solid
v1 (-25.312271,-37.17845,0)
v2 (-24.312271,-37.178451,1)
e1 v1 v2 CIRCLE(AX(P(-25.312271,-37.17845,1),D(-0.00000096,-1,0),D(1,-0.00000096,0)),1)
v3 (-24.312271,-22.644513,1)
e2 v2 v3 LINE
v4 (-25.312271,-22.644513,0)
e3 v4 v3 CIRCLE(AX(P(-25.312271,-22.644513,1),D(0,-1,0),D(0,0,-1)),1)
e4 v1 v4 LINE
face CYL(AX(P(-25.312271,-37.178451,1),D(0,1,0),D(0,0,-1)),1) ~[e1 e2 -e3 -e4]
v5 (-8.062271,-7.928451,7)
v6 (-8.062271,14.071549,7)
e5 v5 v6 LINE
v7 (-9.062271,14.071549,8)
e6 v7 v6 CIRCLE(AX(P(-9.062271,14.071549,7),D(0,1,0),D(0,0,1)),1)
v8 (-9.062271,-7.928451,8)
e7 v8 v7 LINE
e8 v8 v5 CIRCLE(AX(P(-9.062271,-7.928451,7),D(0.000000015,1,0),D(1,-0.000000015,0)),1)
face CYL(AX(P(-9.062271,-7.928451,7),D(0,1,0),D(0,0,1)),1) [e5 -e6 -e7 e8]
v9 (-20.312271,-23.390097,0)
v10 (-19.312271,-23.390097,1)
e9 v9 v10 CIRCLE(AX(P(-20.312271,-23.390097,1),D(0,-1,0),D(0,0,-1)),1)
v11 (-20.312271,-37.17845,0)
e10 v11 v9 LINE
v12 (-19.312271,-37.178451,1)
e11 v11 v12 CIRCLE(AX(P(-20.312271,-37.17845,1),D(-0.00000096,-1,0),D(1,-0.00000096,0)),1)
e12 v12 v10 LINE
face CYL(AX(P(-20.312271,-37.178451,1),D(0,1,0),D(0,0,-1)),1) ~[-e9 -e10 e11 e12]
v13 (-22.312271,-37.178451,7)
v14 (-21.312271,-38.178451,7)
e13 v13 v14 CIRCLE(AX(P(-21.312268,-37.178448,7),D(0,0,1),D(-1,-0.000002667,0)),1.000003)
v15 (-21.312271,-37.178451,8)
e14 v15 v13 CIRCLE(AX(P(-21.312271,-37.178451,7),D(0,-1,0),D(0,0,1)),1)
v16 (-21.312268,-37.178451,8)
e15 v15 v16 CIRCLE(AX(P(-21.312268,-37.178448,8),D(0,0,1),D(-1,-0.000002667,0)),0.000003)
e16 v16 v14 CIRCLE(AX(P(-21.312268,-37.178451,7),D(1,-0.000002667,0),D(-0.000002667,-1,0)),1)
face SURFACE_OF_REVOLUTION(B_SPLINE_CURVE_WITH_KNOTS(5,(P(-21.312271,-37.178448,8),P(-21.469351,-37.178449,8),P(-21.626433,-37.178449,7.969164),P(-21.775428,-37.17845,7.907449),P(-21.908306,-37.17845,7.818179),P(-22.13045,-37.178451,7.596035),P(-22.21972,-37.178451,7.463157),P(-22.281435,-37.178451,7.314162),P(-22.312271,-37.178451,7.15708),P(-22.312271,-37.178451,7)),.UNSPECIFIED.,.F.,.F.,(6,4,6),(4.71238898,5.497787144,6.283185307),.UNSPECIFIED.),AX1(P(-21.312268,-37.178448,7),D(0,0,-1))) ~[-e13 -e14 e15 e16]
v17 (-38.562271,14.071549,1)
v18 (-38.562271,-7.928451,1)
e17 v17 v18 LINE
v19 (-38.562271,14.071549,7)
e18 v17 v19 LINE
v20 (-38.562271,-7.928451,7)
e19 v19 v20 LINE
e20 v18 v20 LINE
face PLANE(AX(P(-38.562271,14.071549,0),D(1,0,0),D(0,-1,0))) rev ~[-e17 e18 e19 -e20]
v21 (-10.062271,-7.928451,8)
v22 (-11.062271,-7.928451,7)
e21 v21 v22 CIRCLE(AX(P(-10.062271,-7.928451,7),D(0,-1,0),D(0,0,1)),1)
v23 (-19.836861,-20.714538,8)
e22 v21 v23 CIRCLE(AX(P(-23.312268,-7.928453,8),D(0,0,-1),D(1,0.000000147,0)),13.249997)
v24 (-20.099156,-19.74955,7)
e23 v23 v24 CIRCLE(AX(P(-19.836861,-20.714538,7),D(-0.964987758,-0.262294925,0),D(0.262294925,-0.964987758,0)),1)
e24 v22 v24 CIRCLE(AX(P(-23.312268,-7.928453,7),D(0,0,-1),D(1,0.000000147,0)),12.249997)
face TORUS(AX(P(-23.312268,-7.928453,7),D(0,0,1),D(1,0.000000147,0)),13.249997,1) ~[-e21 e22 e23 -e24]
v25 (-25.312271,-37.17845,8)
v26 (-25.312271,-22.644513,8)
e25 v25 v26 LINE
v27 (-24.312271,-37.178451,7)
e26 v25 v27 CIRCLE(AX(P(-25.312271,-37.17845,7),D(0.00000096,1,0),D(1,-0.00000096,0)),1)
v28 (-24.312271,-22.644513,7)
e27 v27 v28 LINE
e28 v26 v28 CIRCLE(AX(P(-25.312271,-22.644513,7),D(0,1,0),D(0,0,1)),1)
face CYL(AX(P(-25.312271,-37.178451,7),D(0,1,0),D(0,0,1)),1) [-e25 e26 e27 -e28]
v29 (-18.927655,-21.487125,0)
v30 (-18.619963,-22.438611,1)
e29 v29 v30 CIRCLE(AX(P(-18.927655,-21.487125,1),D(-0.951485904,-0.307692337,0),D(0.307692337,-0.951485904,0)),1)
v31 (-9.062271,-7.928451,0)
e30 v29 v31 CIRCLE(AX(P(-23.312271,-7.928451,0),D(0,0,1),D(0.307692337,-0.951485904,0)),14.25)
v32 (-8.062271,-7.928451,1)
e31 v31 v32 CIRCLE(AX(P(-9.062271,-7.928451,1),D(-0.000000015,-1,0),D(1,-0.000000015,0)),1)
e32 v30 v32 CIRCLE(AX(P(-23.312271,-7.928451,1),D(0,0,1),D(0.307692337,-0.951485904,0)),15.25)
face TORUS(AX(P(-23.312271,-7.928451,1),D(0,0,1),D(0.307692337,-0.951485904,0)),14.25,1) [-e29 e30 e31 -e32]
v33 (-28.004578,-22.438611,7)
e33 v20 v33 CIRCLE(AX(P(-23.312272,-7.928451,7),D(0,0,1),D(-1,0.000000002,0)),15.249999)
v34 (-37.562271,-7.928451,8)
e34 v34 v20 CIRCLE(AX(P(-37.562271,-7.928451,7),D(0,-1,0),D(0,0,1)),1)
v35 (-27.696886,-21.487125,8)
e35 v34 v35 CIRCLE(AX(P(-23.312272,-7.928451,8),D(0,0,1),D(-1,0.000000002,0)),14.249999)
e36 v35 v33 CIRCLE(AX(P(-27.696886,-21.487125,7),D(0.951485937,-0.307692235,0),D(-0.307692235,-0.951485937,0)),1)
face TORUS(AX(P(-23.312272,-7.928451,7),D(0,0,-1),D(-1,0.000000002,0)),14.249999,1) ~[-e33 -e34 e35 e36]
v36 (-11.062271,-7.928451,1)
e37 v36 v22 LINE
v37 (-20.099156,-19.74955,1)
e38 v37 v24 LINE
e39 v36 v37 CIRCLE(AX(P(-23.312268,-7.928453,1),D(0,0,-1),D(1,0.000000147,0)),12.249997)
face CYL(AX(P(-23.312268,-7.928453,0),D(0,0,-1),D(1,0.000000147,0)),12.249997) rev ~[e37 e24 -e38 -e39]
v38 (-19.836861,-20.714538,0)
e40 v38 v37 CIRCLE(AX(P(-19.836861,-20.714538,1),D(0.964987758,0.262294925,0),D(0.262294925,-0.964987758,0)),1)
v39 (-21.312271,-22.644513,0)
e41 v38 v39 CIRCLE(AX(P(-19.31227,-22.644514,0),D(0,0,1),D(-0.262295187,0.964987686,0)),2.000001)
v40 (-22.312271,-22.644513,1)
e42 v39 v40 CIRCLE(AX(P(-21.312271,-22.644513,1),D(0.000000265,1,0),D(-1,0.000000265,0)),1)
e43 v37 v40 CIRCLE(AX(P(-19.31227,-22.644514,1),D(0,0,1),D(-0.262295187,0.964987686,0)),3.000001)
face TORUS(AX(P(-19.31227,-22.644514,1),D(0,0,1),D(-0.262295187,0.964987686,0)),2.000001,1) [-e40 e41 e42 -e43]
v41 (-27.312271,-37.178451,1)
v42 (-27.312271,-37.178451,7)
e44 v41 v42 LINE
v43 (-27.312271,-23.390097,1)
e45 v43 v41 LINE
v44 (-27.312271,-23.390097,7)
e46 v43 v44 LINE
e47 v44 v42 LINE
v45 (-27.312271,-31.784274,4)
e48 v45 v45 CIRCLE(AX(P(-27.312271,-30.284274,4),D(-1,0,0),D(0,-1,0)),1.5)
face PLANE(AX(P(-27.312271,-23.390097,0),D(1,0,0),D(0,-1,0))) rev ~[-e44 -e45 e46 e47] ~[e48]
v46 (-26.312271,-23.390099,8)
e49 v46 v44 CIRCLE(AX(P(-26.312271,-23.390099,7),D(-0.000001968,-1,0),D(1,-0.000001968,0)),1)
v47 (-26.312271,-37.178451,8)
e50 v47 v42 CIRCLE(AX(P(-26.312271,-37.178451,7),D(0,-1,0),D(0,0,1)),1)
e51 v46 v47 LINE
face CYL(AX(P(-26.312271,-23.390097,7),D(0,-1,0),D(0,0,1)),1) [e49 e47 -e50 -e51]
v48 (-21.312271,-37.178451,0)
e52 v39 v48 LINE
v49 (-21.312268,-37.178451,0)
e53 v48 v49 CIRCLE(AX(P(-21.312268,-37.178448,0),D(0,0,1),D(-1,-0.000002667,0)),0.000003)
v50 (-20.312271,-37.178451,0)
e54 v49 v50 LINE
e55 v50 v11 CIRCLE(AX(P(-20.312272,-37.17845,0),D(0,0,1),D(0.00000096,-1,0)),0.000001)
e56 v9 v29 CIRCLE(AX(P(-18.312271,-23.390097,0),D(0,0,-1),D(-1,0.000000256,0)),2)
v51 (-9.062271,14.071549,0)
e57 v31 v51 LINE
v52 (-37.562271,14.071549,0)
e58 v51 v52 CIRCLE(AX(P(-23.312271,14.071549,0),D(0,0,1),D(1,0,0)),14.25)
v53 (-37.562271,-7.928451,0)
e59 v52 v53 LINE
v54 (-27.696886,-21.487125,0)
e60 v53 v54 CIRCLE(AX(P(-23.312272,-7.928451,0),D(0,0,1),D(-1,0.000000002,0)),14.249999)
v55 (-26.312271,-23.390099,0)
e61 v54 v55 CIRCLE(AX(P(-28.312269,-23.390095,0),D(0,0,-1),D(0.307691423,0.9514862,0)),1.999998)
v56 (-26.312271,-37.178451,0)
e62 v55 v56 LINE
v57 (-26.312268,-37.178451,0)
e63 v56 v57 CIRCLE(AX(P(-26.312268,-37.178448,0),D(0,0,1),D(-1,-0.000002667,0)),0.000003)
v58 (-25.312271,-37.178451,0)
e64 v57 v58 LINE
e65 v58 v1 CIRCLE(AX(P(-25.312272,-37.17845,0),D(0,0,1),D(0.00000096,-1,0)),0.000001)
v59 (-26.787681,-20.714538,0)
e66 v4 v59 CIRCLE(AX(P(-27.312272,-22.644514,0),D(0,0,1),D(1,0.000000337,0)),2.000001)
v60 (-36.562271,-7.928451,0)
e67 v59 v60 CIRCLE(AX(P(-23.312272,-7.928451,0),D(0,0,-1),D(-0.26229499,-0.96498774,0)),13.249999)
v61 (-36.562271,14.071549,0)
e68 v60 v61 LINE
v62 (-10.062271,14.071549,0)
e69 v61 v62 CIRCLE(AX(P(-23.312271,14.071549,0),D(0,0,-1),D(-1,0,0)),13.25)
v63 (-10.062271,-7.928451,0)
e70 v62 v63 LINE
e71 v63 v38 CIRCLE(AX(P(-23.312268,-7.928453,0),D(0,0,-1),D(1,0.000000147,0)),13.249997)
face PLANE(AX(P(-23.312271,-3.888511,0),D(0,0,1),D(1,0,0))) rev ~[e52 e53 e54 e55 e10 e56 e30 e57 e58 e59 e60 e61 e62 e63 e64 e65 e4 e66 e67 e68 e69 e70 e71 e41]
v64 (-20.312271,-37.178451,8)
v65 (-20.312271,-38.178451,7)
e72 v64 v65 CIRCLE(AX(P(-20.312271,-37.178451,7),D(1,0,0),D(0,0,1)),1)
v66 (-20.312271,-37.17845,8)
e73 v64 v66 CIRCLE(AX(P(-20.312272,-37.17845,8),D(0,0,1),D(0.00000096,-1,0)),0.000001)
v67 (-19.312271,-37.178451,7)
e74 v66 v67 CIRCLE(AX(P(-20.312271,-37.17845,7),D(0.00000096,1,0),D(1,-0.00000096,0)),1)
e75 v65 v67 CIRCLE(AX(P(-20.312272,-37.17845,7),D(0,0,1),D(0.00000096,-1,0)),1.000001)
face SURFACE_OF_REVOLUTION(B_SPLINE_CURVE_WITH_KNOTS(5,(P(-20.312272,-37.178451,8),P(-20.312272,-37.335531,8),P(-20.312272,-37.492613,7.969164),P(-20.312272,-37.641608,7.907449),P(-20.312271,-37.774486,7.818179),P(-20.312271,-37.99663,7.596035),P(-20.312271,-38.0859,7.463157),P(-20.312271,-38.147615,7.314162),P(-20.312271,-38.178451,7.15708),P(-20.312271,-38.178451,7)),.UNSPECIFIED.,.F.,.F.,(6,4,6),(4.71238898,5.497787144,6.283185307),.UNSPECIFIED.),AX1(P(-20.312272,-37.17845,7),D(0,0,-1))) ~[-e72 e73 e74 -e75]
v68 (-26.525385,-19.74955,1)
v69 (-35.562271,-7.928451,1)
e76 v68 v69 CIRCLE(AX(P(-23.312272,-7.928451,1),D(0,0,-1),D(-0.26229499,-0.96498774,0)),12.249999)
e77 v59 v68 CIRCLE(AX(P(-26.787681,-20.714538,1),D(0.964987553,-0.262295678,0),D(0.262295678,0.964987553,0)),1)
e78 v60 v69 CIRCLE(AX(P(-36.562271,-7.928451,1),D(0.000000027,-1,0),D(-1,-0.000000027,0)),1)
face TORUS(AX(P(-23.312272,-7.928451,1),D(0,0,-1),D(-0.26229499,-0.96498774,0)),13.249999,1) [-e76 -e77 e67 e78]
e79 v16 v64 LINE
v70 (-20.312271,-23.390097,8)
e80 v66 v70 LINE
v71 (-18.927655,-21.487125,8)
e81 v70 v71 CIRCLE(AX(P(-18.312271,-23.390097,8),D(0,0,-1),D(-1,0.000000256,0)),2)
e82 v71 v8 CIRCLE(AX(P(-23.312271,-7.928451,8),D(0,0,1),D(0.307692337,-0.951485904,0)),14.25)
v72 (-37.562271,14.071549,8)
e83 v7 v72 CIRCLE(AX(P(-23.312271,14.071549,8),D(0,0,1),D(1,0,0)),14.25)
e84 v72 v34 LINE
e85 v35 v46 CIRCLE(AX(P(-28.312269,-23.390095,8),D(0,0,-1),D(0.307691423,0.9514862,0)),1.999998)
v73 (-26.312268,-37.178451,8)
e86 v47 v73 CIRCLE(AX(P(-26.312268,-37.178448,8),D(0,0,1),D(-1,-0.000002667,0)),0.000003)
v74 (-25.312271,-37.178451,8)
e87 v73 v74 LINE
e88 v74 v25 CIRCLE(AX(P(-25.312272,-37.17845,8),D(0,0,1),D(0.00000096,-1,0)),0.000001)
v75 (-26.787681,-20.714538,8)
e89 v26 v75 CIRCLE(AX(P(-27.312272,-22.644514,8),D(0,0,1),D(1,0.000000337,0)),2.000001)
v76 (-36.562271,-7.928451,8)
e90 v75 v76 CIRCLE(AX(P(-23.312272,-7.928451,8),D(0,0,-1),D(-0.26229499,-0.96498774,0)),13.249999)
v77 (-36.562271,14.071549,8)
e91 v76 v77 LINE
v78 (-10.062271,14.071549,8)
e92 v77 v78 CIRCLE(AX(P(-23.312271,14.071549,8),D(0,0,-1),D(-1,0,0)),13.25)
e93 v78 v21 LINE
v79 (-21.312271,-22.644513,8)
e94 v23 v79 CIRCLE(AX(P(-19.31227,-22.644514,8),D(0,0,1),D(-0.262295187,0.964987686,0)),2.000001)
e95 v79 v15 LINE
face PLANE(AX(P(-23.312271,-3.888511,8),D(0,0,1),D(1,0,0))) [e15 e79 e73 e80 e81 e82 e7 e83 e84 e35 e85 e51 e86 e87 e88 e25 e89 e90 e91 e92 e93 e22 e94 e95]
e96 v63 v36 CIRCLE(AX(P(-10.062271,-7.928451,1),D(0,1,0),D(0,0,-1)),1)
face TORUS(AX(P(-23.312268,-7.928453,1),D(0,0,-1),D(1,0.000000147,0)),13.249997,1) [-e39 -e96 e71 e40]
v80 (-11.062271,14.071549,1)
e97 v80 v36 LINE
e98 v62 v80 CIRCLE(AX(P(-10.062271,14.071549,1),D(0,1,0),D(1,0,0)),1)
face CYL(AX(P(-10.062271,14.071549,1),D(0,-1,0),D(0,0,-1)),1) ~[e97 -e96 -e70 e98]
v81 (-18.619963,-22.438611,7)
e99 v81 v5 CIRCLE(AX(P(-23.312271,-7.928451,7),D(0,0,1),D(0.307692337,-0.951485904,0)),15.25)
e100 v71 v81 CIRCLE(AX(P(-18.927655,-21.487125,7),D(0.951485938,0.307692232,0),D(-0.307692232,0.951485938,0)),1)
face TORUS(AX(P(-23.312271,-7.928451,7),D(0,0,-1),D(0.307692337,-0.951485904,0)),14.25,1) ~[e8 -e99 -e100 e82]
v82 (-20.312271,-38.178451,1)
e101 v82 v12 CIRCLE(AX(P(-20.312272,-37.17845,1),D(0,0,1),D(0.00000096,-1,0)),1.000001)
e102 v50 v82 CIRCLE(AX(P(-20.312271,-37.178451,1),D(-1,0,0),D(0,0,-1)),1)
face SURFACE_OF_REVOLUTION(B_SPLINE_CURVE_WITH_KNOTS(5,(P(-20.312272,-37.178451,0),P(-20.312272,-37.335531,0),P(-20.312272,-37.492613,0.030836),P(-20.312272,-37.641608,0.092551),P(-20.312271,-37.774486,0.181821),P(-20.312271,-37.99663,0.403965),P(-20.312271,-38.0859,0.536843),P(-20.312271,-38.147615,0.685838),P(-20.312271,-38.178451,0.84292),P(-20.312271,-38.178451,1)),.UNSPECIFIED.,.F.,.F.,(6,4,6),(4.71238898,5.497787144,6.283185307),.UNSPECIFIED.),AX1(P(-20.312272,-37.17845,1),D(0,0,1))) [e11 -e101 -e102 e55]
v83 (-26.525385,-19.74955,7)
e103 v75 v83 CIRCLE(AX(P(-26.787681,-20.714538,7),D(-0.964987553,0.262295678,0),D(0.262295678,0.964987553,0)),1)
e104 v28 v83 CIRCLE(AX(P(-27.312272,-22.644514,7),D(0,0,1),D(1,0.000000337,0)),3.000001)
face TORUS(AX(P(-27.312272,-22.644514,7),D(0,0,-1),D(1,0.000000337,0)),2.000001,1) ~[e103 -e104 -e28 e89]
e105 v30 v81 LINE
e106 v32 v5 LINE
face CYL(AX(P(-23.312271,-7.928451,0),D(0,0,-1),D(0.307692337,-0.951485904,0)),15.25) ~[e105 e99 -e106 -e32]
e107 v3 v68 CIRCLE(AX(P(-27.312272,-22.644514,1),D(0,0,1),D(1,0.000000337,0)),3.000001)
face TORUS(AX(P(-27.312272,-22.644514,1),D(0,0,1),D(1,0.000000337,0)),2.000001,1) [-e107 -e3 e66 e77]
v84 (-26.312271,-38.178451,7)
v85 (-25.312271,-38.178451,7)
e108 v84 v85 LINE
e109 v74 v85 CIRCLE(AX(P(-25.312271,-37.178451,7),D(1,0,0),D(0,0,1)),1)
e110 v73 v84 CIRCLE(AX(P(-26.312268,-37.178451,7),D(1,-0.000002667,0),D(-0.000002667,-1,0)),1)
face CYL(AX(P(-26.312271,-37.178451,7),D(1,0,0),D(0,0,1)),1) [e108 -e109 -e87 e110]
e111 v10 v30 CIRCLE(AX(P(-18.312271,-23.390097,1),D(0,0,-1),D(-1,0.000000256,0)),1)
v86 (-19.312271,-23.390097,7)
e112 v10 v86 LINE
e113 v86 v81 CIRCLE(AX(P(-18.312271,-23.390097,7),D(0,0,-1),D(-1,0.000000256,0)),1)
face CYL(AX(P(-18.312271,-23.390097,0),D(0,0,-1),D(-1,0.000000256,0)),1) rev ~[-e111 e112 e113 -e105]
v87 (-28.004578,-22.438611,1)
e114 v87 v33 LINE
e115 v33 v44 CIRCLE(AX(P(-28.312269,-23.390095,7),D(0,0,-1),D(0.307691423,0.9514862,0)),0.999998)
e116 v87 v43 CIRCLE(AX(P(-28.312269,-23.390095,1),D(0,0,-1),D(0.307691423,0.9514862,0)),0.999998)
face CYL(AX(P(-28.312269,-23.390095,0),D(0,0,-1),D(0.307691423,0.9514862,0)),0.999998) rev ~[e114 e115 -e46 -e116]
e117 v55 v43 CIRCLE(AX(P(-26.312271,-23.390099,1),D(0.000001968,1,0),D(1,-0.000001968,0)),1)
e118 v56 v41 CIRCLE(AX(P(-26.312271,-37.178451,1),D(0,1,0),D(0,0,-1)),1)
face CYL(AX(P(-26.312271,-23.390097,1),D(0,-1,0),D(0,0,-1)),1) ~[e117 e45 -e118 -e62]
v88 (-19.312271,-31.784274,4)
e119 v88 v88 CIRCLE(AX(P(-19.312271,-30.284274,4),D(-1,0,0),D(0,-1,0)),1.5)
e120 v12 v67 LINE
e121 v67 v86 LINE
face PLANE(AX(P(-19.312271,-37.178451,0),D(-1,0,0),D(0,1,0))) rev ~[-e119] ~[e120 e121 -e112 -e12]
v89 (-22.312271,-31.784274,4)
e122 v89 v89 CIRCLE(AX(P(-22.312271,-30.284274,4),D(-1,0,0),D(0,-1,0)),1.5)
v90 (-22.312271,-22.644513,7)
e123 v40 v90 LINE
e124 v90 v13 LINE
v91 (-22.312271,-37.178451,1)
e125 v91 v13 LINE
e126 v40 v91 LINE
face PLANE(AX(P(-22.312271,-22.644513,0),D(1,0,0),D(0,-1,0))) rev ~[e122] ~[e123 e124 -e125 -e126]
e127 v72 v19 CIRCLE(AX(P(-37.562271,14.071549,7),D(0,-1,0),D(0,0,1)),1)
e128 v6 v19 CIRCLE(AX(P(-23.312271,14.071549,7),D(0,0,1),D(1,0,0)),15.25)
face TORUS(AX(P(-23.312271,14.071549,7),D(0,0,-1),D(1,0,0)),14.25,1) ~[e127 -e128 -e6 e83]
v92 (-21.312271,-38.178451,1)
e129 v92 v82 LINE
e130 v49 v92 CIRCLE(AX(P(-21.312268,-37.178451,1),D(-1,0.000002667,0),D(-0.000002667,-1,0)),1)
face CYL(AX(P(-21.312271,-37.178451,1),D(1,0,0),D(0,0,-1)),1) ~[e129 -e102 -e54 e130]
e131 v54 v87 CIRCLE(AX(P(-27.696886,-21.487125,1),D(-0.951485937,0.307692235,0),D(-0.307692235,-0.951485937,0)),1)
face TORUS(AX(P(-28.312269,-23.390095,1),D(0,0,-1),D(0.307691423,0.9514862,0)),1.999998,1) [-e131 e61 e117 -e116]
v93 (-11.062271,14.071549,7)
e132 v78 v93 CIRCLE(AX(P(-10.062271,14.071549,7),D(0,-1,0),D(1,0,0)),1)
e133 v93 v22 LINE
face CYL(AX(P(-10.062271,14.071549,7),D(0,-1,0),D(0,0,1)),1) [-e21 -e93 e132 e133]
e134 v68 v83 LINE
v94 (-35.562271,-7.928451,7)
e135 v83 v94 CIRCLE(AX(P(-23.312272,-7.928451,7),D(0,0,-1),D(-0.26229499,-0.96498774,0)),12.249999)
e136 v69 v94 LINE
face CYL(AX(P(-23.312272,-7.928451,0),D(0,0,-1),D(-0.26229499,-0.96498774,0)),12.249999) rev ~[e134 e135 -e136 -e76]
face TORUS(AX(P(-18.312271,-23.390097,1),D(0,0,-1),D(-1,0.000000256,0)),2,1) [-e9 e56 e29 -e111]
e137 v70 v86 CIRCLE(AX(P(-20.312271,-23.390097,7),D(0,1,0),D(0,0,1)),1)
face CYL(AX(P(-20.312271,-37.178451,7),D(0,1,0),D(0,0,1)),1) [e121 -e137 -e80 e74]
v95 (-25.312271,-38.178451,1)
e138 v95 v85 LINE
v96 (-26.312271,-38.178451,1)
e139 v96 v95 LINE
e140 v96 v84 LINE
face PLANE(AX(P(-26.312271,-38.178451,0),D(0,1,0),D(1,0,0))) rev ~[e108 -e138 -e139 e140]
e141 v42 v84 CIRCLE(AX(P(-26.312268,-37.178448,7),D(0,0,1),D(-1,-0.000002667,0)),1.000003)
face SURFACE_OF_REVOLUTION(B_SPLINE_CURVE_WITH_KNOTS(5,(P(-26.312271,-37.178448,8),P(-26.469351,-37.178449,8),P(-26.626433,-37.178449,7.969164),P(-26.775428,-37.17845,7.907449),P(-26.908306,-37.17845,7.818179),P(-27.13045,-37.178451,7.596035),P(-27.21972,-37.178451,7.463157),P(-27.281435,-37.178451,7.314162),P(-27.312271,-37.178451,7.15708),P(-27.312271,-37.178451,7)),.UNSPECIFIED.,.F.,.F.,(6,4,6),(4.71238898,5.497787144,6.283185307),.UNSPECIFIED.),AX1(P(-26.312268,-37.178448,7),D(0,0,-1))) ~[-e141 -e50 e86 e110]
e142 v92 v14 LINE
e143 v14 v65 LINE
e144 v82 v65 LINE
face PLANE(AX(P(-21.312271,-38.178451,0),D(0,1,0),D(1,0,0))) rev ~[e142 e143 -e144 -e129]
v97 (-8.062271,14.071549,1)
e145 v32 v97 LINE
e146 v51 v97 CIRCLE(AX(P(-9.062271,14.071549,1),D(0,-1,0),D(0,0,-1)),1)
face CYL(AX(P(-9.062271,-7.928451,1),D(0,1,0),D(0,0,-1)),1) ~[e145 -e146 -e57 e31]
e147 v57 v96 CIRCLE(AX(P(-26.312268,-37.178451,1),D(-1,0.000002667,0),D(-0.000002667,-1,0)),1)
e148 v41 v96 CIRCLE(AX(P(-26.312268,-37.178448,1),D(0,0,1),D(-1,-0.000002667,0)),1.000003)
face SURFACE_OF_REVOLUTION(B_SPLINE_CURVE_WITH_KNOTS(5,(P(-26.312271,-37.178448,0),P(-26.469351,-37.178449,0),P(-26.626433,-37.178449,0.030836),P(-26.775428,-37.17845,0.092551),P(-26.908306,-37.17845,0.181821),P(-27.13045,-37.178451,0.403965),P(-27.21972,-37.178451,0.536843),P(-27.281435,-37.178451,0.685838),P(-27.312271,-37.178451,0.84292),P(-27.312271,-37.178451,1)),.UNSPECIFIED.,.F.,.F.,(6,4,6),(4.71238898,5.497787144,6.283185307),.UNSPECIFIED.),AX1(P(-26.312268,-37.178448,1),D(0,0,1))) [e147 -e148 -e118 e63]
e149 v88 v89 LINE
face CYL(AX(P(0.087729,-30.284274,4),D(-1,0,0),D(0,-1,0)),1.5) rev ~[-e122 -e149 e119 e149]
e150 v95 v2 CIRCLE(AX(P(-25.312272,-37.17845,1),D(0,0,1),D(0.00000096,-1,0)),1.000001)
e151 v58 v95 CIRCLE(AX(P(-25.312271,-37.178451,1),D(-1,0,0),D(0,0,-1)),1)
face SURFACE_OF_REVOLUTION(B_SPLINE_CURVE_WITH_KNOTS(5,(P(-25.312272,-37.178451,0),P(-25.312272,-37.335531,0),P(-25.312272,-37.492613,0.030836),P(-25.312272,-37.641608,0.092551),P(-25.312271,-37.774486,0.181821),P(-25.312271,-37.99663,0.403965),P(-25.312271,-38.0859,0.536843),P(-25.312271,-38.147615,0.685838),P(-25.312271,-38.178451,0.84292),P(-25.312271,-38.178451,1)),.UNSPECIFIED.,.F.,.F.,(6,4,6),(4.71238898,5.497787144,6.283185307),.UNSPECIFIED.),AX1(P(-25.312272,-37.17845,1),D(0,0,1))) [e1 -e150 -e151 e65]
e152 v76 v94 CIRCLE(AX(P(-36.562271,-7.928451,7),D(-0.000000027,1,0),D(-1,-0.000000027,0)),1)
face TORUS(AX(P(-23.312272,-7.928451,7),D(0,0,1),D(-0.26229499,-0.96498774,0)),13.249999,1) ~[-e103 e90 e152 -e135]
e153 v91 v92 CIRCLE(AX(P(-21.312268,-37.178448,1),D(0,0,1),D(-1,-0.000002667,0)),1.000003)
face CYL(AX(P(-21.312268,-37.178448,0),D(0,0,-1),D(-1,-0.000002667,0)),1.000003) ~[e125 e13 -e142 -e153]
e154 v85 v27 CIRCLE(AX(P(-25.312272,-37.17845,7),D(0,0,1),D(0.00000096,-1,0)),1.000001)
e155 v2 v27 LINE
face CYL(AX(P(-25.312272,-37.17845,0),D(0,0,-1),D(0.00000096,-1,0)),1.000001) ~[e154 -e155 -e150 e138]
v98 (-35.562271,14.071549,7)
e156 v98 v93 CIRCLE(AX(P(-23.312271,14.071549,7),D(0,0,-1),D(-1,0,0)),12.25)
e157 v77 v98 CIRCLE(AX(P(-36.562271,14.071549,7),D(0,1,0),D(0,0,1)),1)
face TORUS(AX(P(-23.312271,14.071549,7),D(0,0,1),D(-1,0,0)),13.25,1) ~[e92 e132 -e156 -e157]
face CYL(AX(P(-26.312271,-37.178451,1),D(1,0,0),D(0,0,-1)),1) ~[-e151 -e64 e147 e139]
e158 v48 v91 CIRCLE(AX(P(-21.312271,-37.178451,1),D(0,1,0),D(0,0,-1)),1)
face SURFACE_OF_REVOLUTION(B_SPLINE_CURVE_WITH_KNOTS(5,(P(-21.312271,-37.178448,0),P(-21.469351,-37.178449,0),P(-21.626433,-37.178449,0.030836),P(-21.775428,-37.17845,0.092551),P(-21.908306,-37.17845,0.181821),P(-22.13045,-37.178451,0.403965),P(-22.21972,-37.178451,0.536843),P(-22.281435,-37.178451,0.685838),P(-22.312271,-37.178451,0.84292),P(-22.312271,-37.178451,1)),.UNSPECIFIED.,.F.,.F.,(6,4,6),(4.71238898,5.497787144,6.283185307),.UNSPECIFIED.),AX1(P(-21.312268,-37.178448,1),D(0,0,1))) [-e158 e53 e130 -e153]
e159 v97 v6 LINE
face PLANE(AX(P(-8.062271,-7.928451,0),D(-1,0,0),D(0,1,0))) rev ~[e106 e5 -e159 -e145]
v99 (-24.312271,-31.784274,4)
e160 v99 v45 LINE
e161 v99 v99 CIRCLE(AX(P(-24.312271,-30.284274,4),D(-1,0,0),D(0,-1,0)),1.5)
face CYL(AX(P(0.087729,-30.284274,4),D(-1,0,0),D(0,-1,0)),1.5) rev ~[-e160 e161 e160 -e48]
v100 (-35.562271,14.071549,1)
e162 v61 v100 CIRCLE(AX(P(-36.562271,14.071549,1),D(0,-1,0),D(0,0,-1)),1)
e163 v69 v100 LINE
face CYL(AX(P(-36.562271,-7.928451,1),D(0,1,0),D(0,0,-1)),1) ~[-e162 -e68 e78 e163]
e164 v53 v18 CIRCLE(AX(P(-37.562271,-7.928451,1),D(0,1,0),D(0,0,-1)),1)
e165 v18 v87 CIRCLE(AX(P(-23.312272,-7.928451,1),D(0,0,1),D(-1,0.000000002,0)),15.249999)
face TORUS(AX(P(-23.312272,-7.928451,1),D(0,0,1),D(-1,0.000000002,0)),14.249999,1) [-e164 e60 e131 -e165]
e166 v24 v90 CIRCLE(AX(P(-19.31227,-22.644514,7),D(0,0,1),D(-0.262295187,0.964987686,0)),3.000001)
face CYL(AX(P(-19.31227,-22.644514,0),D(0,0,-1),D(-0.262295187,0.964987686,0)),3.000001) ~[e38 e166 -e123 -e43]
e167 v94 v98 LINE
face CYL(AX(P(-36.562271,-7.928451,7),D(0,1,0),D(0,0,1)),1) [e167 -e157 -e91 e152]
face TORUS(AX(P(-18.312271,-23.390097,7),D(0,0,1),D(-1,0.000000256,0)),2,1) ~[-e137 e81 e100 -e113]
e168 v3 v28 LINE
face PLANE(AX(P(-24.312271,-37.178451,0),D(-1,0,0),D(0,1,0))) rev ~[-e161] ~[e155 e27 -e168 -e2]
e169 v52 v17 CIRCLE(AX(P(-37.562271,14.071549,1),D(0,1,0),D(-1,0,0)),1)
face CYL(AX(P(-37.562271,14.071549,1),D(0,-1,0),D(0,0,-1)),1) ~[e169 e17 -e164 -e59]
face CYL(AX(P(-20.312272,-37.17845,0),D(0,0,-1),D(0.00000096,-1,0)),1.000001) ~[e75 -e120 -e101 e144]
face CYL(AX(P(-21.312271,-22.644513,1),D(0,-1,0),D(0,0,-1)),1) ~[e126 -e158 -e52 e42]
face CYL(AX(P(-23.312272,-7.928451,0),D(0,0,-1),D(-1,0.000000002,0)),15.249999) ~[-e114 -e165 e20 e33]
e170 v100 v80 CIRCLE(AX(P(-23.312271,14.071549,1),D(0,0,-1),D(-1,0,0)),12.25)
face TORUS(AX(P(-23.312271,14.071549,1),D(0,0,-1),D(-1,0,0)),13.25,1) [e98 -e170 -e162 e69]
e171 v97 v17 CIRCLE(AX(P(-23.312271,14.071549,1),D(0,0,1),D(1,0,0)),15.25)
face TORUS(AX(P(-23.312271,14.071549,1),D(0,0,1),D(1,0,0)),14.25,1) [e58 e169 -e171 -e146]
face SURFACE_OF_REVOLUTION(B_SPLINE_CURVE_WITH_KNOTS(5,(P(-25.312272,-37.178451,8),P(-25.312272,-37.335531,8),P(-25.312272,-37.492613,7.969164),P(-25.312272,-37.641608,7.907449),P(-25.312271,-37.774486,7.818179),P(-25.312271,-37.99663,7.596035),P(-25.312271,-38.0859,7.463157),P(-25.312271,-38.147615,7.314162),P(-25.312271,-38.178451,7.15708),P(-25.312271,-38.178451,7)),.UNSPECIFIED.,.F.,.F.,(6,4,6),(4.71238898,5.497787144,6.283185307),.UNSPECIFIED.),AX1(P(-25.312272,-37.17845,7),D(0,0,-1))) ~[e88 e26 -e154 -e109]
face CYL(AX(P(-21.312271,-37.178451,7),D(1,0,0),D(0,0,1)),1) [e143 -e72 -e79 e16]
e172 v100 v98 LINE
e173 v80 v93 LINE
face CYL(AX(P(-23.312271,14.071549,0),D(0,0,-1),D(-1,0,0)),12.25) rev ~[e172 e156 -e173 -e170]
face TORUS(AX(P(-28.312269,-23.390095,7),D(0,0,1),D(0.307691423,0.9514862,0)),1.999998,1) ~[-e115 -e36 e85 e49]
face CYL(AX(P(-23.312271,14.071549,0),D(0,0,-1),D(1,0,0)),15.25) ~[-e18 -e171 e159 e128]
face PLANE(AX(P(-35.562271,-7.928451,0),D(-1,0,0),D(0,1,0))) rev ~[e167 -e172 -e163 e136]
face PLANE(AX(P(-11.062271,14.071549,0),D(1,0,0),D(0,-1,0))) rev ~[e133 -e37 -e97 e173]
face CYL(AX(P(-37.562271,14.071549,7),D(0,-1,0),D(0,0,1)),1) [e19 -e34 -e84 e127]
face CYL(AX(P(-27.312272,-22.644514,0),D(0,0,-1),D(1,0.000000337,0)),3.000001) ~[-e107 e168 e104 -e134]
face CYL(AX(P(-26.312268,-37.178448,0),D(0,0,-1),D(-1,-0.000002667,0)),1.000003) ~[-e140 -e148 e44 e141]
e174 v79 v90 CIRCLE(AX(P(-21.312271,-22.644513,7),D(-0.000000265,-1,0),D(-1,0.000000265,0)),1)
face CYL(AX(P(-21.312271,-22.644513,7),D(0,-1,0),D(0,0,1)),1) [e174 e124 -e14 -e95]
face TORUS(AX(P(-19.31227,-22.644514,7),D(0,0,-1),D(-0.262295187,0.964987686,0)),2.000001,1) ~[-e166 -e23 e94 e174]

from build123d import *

# Parameters (mm, degrees)
F1_DEPTH = 8
F3_D     = 3
F3_DEPTH = 19.4
F4_R     = 1


with BuildPart() as f1:
    # F0 (on Top) → F1 (new body)
    with BuildSketch(Plane.XY):
        with BuildLine():
            ThreePointArc((-35.562271, 14.071549), (-23.312271, 26.321549), (-11.062271, 14.071549))
            Line((-11.062271, 14.071549), (-11.062271, -7.928451))
            ThreePointArc((-11.062271, -7.928451), (-13.580283, -15.368271), (-20.099156, -19.74955))
            ThreePointArc((-20.099156, -19.74955), (-21.695615, -20.822517), (-22.312271, -22.644513))
            Line((-22.312271, -22.644513), (-22.312271, -23.178451))
            Line((-22.312271, -23.178451), (-22.312271, -37.178451))
            ThreePointArc((-22.312271, -37.178451), (-22.019377, -37.885557), (-21.312271, -38.178451))
            Line((-21.312271, -38.178451), (-20.312271, -38.178451))
            ThreePointArc((-20.312271, -38.178451), (-19.605164, -37.885557), (-19.312271, -37.178451))
            Line((-19.312271, -37.178451), (-19.312271, -23.390097))
            ThreePointArc((-19.312271, -23.390097), (-19.120878, -22.801748), (-18.619963, -22.438611))
            ThreePointArc((-18.619963, -22.438611), (-10.981006, -16.900764), (-8.062271, -7.928451))
            Line((-8.062271, -7.928451), (-8.062271, 14.071549))
            ThreePointArc((-8.062271, 14.071549), (-23.312271, 29.321549), (-38.562271, 14.071549))
            Line((-38.562271, 14.071549), (-38.562271, -7.928451))
            ThreePointArc((-38.562271, -7.928451), (-35.643536, -16.900764), (-28.004578, -22.438611))
            ThreePointArc((-28.004578, -22.438611), (-27.503663, -22.801748), (-27.312271, -23.390097))
            Line((-27.312271, -23.390097), (-27.312271, -37.178451))
            ThreePointArc((-27.312271, -37.178451), (-27.019377, -37.885557), (-26.312271, -38.178451))
            Line((-26.312271, -38.178451), (-25.312271, -38.178451))
            ThreePointArc((-25.312271, -38.178451), (-24.605164, -37.885557), (-24.312271, -37.178451))
            Line((-24.312271, -37.178451), (-24.312271, -23.178451))
            Line((-24.312271, -23.178451), (-24.312271, -22.644513))
            ThreePointArc((-24.312271, -22.644513), (-24.928927, -20.822517), (-26.525385, -19.74955))
            ThreePointArc((-26.525385, -19.74955), (-33.044258, -15.368271), (-35.562271, -7.928451))
            Line((-35.562271, -7.928451), (-35.562271, 14.071549))
        make_face()
    extrude(amount=F1_DEPTH)

    # F3
    with Locations(Plane.YZ.offset(-19.312271)):
        with Locations((-30.284274, 4)):
            Hole(F3_D / 2, depth=F3_DEPTH)

    # F4
    f4_edges = [f1.edges().sort_by_distance(p)[0] for p in [
        (-38.562271, 3.071549, 8),
        (-10.981006, -16.900764, 0),
    ]]
    fillet(f4_edges, radius=F4_R)


solid = f1.part
